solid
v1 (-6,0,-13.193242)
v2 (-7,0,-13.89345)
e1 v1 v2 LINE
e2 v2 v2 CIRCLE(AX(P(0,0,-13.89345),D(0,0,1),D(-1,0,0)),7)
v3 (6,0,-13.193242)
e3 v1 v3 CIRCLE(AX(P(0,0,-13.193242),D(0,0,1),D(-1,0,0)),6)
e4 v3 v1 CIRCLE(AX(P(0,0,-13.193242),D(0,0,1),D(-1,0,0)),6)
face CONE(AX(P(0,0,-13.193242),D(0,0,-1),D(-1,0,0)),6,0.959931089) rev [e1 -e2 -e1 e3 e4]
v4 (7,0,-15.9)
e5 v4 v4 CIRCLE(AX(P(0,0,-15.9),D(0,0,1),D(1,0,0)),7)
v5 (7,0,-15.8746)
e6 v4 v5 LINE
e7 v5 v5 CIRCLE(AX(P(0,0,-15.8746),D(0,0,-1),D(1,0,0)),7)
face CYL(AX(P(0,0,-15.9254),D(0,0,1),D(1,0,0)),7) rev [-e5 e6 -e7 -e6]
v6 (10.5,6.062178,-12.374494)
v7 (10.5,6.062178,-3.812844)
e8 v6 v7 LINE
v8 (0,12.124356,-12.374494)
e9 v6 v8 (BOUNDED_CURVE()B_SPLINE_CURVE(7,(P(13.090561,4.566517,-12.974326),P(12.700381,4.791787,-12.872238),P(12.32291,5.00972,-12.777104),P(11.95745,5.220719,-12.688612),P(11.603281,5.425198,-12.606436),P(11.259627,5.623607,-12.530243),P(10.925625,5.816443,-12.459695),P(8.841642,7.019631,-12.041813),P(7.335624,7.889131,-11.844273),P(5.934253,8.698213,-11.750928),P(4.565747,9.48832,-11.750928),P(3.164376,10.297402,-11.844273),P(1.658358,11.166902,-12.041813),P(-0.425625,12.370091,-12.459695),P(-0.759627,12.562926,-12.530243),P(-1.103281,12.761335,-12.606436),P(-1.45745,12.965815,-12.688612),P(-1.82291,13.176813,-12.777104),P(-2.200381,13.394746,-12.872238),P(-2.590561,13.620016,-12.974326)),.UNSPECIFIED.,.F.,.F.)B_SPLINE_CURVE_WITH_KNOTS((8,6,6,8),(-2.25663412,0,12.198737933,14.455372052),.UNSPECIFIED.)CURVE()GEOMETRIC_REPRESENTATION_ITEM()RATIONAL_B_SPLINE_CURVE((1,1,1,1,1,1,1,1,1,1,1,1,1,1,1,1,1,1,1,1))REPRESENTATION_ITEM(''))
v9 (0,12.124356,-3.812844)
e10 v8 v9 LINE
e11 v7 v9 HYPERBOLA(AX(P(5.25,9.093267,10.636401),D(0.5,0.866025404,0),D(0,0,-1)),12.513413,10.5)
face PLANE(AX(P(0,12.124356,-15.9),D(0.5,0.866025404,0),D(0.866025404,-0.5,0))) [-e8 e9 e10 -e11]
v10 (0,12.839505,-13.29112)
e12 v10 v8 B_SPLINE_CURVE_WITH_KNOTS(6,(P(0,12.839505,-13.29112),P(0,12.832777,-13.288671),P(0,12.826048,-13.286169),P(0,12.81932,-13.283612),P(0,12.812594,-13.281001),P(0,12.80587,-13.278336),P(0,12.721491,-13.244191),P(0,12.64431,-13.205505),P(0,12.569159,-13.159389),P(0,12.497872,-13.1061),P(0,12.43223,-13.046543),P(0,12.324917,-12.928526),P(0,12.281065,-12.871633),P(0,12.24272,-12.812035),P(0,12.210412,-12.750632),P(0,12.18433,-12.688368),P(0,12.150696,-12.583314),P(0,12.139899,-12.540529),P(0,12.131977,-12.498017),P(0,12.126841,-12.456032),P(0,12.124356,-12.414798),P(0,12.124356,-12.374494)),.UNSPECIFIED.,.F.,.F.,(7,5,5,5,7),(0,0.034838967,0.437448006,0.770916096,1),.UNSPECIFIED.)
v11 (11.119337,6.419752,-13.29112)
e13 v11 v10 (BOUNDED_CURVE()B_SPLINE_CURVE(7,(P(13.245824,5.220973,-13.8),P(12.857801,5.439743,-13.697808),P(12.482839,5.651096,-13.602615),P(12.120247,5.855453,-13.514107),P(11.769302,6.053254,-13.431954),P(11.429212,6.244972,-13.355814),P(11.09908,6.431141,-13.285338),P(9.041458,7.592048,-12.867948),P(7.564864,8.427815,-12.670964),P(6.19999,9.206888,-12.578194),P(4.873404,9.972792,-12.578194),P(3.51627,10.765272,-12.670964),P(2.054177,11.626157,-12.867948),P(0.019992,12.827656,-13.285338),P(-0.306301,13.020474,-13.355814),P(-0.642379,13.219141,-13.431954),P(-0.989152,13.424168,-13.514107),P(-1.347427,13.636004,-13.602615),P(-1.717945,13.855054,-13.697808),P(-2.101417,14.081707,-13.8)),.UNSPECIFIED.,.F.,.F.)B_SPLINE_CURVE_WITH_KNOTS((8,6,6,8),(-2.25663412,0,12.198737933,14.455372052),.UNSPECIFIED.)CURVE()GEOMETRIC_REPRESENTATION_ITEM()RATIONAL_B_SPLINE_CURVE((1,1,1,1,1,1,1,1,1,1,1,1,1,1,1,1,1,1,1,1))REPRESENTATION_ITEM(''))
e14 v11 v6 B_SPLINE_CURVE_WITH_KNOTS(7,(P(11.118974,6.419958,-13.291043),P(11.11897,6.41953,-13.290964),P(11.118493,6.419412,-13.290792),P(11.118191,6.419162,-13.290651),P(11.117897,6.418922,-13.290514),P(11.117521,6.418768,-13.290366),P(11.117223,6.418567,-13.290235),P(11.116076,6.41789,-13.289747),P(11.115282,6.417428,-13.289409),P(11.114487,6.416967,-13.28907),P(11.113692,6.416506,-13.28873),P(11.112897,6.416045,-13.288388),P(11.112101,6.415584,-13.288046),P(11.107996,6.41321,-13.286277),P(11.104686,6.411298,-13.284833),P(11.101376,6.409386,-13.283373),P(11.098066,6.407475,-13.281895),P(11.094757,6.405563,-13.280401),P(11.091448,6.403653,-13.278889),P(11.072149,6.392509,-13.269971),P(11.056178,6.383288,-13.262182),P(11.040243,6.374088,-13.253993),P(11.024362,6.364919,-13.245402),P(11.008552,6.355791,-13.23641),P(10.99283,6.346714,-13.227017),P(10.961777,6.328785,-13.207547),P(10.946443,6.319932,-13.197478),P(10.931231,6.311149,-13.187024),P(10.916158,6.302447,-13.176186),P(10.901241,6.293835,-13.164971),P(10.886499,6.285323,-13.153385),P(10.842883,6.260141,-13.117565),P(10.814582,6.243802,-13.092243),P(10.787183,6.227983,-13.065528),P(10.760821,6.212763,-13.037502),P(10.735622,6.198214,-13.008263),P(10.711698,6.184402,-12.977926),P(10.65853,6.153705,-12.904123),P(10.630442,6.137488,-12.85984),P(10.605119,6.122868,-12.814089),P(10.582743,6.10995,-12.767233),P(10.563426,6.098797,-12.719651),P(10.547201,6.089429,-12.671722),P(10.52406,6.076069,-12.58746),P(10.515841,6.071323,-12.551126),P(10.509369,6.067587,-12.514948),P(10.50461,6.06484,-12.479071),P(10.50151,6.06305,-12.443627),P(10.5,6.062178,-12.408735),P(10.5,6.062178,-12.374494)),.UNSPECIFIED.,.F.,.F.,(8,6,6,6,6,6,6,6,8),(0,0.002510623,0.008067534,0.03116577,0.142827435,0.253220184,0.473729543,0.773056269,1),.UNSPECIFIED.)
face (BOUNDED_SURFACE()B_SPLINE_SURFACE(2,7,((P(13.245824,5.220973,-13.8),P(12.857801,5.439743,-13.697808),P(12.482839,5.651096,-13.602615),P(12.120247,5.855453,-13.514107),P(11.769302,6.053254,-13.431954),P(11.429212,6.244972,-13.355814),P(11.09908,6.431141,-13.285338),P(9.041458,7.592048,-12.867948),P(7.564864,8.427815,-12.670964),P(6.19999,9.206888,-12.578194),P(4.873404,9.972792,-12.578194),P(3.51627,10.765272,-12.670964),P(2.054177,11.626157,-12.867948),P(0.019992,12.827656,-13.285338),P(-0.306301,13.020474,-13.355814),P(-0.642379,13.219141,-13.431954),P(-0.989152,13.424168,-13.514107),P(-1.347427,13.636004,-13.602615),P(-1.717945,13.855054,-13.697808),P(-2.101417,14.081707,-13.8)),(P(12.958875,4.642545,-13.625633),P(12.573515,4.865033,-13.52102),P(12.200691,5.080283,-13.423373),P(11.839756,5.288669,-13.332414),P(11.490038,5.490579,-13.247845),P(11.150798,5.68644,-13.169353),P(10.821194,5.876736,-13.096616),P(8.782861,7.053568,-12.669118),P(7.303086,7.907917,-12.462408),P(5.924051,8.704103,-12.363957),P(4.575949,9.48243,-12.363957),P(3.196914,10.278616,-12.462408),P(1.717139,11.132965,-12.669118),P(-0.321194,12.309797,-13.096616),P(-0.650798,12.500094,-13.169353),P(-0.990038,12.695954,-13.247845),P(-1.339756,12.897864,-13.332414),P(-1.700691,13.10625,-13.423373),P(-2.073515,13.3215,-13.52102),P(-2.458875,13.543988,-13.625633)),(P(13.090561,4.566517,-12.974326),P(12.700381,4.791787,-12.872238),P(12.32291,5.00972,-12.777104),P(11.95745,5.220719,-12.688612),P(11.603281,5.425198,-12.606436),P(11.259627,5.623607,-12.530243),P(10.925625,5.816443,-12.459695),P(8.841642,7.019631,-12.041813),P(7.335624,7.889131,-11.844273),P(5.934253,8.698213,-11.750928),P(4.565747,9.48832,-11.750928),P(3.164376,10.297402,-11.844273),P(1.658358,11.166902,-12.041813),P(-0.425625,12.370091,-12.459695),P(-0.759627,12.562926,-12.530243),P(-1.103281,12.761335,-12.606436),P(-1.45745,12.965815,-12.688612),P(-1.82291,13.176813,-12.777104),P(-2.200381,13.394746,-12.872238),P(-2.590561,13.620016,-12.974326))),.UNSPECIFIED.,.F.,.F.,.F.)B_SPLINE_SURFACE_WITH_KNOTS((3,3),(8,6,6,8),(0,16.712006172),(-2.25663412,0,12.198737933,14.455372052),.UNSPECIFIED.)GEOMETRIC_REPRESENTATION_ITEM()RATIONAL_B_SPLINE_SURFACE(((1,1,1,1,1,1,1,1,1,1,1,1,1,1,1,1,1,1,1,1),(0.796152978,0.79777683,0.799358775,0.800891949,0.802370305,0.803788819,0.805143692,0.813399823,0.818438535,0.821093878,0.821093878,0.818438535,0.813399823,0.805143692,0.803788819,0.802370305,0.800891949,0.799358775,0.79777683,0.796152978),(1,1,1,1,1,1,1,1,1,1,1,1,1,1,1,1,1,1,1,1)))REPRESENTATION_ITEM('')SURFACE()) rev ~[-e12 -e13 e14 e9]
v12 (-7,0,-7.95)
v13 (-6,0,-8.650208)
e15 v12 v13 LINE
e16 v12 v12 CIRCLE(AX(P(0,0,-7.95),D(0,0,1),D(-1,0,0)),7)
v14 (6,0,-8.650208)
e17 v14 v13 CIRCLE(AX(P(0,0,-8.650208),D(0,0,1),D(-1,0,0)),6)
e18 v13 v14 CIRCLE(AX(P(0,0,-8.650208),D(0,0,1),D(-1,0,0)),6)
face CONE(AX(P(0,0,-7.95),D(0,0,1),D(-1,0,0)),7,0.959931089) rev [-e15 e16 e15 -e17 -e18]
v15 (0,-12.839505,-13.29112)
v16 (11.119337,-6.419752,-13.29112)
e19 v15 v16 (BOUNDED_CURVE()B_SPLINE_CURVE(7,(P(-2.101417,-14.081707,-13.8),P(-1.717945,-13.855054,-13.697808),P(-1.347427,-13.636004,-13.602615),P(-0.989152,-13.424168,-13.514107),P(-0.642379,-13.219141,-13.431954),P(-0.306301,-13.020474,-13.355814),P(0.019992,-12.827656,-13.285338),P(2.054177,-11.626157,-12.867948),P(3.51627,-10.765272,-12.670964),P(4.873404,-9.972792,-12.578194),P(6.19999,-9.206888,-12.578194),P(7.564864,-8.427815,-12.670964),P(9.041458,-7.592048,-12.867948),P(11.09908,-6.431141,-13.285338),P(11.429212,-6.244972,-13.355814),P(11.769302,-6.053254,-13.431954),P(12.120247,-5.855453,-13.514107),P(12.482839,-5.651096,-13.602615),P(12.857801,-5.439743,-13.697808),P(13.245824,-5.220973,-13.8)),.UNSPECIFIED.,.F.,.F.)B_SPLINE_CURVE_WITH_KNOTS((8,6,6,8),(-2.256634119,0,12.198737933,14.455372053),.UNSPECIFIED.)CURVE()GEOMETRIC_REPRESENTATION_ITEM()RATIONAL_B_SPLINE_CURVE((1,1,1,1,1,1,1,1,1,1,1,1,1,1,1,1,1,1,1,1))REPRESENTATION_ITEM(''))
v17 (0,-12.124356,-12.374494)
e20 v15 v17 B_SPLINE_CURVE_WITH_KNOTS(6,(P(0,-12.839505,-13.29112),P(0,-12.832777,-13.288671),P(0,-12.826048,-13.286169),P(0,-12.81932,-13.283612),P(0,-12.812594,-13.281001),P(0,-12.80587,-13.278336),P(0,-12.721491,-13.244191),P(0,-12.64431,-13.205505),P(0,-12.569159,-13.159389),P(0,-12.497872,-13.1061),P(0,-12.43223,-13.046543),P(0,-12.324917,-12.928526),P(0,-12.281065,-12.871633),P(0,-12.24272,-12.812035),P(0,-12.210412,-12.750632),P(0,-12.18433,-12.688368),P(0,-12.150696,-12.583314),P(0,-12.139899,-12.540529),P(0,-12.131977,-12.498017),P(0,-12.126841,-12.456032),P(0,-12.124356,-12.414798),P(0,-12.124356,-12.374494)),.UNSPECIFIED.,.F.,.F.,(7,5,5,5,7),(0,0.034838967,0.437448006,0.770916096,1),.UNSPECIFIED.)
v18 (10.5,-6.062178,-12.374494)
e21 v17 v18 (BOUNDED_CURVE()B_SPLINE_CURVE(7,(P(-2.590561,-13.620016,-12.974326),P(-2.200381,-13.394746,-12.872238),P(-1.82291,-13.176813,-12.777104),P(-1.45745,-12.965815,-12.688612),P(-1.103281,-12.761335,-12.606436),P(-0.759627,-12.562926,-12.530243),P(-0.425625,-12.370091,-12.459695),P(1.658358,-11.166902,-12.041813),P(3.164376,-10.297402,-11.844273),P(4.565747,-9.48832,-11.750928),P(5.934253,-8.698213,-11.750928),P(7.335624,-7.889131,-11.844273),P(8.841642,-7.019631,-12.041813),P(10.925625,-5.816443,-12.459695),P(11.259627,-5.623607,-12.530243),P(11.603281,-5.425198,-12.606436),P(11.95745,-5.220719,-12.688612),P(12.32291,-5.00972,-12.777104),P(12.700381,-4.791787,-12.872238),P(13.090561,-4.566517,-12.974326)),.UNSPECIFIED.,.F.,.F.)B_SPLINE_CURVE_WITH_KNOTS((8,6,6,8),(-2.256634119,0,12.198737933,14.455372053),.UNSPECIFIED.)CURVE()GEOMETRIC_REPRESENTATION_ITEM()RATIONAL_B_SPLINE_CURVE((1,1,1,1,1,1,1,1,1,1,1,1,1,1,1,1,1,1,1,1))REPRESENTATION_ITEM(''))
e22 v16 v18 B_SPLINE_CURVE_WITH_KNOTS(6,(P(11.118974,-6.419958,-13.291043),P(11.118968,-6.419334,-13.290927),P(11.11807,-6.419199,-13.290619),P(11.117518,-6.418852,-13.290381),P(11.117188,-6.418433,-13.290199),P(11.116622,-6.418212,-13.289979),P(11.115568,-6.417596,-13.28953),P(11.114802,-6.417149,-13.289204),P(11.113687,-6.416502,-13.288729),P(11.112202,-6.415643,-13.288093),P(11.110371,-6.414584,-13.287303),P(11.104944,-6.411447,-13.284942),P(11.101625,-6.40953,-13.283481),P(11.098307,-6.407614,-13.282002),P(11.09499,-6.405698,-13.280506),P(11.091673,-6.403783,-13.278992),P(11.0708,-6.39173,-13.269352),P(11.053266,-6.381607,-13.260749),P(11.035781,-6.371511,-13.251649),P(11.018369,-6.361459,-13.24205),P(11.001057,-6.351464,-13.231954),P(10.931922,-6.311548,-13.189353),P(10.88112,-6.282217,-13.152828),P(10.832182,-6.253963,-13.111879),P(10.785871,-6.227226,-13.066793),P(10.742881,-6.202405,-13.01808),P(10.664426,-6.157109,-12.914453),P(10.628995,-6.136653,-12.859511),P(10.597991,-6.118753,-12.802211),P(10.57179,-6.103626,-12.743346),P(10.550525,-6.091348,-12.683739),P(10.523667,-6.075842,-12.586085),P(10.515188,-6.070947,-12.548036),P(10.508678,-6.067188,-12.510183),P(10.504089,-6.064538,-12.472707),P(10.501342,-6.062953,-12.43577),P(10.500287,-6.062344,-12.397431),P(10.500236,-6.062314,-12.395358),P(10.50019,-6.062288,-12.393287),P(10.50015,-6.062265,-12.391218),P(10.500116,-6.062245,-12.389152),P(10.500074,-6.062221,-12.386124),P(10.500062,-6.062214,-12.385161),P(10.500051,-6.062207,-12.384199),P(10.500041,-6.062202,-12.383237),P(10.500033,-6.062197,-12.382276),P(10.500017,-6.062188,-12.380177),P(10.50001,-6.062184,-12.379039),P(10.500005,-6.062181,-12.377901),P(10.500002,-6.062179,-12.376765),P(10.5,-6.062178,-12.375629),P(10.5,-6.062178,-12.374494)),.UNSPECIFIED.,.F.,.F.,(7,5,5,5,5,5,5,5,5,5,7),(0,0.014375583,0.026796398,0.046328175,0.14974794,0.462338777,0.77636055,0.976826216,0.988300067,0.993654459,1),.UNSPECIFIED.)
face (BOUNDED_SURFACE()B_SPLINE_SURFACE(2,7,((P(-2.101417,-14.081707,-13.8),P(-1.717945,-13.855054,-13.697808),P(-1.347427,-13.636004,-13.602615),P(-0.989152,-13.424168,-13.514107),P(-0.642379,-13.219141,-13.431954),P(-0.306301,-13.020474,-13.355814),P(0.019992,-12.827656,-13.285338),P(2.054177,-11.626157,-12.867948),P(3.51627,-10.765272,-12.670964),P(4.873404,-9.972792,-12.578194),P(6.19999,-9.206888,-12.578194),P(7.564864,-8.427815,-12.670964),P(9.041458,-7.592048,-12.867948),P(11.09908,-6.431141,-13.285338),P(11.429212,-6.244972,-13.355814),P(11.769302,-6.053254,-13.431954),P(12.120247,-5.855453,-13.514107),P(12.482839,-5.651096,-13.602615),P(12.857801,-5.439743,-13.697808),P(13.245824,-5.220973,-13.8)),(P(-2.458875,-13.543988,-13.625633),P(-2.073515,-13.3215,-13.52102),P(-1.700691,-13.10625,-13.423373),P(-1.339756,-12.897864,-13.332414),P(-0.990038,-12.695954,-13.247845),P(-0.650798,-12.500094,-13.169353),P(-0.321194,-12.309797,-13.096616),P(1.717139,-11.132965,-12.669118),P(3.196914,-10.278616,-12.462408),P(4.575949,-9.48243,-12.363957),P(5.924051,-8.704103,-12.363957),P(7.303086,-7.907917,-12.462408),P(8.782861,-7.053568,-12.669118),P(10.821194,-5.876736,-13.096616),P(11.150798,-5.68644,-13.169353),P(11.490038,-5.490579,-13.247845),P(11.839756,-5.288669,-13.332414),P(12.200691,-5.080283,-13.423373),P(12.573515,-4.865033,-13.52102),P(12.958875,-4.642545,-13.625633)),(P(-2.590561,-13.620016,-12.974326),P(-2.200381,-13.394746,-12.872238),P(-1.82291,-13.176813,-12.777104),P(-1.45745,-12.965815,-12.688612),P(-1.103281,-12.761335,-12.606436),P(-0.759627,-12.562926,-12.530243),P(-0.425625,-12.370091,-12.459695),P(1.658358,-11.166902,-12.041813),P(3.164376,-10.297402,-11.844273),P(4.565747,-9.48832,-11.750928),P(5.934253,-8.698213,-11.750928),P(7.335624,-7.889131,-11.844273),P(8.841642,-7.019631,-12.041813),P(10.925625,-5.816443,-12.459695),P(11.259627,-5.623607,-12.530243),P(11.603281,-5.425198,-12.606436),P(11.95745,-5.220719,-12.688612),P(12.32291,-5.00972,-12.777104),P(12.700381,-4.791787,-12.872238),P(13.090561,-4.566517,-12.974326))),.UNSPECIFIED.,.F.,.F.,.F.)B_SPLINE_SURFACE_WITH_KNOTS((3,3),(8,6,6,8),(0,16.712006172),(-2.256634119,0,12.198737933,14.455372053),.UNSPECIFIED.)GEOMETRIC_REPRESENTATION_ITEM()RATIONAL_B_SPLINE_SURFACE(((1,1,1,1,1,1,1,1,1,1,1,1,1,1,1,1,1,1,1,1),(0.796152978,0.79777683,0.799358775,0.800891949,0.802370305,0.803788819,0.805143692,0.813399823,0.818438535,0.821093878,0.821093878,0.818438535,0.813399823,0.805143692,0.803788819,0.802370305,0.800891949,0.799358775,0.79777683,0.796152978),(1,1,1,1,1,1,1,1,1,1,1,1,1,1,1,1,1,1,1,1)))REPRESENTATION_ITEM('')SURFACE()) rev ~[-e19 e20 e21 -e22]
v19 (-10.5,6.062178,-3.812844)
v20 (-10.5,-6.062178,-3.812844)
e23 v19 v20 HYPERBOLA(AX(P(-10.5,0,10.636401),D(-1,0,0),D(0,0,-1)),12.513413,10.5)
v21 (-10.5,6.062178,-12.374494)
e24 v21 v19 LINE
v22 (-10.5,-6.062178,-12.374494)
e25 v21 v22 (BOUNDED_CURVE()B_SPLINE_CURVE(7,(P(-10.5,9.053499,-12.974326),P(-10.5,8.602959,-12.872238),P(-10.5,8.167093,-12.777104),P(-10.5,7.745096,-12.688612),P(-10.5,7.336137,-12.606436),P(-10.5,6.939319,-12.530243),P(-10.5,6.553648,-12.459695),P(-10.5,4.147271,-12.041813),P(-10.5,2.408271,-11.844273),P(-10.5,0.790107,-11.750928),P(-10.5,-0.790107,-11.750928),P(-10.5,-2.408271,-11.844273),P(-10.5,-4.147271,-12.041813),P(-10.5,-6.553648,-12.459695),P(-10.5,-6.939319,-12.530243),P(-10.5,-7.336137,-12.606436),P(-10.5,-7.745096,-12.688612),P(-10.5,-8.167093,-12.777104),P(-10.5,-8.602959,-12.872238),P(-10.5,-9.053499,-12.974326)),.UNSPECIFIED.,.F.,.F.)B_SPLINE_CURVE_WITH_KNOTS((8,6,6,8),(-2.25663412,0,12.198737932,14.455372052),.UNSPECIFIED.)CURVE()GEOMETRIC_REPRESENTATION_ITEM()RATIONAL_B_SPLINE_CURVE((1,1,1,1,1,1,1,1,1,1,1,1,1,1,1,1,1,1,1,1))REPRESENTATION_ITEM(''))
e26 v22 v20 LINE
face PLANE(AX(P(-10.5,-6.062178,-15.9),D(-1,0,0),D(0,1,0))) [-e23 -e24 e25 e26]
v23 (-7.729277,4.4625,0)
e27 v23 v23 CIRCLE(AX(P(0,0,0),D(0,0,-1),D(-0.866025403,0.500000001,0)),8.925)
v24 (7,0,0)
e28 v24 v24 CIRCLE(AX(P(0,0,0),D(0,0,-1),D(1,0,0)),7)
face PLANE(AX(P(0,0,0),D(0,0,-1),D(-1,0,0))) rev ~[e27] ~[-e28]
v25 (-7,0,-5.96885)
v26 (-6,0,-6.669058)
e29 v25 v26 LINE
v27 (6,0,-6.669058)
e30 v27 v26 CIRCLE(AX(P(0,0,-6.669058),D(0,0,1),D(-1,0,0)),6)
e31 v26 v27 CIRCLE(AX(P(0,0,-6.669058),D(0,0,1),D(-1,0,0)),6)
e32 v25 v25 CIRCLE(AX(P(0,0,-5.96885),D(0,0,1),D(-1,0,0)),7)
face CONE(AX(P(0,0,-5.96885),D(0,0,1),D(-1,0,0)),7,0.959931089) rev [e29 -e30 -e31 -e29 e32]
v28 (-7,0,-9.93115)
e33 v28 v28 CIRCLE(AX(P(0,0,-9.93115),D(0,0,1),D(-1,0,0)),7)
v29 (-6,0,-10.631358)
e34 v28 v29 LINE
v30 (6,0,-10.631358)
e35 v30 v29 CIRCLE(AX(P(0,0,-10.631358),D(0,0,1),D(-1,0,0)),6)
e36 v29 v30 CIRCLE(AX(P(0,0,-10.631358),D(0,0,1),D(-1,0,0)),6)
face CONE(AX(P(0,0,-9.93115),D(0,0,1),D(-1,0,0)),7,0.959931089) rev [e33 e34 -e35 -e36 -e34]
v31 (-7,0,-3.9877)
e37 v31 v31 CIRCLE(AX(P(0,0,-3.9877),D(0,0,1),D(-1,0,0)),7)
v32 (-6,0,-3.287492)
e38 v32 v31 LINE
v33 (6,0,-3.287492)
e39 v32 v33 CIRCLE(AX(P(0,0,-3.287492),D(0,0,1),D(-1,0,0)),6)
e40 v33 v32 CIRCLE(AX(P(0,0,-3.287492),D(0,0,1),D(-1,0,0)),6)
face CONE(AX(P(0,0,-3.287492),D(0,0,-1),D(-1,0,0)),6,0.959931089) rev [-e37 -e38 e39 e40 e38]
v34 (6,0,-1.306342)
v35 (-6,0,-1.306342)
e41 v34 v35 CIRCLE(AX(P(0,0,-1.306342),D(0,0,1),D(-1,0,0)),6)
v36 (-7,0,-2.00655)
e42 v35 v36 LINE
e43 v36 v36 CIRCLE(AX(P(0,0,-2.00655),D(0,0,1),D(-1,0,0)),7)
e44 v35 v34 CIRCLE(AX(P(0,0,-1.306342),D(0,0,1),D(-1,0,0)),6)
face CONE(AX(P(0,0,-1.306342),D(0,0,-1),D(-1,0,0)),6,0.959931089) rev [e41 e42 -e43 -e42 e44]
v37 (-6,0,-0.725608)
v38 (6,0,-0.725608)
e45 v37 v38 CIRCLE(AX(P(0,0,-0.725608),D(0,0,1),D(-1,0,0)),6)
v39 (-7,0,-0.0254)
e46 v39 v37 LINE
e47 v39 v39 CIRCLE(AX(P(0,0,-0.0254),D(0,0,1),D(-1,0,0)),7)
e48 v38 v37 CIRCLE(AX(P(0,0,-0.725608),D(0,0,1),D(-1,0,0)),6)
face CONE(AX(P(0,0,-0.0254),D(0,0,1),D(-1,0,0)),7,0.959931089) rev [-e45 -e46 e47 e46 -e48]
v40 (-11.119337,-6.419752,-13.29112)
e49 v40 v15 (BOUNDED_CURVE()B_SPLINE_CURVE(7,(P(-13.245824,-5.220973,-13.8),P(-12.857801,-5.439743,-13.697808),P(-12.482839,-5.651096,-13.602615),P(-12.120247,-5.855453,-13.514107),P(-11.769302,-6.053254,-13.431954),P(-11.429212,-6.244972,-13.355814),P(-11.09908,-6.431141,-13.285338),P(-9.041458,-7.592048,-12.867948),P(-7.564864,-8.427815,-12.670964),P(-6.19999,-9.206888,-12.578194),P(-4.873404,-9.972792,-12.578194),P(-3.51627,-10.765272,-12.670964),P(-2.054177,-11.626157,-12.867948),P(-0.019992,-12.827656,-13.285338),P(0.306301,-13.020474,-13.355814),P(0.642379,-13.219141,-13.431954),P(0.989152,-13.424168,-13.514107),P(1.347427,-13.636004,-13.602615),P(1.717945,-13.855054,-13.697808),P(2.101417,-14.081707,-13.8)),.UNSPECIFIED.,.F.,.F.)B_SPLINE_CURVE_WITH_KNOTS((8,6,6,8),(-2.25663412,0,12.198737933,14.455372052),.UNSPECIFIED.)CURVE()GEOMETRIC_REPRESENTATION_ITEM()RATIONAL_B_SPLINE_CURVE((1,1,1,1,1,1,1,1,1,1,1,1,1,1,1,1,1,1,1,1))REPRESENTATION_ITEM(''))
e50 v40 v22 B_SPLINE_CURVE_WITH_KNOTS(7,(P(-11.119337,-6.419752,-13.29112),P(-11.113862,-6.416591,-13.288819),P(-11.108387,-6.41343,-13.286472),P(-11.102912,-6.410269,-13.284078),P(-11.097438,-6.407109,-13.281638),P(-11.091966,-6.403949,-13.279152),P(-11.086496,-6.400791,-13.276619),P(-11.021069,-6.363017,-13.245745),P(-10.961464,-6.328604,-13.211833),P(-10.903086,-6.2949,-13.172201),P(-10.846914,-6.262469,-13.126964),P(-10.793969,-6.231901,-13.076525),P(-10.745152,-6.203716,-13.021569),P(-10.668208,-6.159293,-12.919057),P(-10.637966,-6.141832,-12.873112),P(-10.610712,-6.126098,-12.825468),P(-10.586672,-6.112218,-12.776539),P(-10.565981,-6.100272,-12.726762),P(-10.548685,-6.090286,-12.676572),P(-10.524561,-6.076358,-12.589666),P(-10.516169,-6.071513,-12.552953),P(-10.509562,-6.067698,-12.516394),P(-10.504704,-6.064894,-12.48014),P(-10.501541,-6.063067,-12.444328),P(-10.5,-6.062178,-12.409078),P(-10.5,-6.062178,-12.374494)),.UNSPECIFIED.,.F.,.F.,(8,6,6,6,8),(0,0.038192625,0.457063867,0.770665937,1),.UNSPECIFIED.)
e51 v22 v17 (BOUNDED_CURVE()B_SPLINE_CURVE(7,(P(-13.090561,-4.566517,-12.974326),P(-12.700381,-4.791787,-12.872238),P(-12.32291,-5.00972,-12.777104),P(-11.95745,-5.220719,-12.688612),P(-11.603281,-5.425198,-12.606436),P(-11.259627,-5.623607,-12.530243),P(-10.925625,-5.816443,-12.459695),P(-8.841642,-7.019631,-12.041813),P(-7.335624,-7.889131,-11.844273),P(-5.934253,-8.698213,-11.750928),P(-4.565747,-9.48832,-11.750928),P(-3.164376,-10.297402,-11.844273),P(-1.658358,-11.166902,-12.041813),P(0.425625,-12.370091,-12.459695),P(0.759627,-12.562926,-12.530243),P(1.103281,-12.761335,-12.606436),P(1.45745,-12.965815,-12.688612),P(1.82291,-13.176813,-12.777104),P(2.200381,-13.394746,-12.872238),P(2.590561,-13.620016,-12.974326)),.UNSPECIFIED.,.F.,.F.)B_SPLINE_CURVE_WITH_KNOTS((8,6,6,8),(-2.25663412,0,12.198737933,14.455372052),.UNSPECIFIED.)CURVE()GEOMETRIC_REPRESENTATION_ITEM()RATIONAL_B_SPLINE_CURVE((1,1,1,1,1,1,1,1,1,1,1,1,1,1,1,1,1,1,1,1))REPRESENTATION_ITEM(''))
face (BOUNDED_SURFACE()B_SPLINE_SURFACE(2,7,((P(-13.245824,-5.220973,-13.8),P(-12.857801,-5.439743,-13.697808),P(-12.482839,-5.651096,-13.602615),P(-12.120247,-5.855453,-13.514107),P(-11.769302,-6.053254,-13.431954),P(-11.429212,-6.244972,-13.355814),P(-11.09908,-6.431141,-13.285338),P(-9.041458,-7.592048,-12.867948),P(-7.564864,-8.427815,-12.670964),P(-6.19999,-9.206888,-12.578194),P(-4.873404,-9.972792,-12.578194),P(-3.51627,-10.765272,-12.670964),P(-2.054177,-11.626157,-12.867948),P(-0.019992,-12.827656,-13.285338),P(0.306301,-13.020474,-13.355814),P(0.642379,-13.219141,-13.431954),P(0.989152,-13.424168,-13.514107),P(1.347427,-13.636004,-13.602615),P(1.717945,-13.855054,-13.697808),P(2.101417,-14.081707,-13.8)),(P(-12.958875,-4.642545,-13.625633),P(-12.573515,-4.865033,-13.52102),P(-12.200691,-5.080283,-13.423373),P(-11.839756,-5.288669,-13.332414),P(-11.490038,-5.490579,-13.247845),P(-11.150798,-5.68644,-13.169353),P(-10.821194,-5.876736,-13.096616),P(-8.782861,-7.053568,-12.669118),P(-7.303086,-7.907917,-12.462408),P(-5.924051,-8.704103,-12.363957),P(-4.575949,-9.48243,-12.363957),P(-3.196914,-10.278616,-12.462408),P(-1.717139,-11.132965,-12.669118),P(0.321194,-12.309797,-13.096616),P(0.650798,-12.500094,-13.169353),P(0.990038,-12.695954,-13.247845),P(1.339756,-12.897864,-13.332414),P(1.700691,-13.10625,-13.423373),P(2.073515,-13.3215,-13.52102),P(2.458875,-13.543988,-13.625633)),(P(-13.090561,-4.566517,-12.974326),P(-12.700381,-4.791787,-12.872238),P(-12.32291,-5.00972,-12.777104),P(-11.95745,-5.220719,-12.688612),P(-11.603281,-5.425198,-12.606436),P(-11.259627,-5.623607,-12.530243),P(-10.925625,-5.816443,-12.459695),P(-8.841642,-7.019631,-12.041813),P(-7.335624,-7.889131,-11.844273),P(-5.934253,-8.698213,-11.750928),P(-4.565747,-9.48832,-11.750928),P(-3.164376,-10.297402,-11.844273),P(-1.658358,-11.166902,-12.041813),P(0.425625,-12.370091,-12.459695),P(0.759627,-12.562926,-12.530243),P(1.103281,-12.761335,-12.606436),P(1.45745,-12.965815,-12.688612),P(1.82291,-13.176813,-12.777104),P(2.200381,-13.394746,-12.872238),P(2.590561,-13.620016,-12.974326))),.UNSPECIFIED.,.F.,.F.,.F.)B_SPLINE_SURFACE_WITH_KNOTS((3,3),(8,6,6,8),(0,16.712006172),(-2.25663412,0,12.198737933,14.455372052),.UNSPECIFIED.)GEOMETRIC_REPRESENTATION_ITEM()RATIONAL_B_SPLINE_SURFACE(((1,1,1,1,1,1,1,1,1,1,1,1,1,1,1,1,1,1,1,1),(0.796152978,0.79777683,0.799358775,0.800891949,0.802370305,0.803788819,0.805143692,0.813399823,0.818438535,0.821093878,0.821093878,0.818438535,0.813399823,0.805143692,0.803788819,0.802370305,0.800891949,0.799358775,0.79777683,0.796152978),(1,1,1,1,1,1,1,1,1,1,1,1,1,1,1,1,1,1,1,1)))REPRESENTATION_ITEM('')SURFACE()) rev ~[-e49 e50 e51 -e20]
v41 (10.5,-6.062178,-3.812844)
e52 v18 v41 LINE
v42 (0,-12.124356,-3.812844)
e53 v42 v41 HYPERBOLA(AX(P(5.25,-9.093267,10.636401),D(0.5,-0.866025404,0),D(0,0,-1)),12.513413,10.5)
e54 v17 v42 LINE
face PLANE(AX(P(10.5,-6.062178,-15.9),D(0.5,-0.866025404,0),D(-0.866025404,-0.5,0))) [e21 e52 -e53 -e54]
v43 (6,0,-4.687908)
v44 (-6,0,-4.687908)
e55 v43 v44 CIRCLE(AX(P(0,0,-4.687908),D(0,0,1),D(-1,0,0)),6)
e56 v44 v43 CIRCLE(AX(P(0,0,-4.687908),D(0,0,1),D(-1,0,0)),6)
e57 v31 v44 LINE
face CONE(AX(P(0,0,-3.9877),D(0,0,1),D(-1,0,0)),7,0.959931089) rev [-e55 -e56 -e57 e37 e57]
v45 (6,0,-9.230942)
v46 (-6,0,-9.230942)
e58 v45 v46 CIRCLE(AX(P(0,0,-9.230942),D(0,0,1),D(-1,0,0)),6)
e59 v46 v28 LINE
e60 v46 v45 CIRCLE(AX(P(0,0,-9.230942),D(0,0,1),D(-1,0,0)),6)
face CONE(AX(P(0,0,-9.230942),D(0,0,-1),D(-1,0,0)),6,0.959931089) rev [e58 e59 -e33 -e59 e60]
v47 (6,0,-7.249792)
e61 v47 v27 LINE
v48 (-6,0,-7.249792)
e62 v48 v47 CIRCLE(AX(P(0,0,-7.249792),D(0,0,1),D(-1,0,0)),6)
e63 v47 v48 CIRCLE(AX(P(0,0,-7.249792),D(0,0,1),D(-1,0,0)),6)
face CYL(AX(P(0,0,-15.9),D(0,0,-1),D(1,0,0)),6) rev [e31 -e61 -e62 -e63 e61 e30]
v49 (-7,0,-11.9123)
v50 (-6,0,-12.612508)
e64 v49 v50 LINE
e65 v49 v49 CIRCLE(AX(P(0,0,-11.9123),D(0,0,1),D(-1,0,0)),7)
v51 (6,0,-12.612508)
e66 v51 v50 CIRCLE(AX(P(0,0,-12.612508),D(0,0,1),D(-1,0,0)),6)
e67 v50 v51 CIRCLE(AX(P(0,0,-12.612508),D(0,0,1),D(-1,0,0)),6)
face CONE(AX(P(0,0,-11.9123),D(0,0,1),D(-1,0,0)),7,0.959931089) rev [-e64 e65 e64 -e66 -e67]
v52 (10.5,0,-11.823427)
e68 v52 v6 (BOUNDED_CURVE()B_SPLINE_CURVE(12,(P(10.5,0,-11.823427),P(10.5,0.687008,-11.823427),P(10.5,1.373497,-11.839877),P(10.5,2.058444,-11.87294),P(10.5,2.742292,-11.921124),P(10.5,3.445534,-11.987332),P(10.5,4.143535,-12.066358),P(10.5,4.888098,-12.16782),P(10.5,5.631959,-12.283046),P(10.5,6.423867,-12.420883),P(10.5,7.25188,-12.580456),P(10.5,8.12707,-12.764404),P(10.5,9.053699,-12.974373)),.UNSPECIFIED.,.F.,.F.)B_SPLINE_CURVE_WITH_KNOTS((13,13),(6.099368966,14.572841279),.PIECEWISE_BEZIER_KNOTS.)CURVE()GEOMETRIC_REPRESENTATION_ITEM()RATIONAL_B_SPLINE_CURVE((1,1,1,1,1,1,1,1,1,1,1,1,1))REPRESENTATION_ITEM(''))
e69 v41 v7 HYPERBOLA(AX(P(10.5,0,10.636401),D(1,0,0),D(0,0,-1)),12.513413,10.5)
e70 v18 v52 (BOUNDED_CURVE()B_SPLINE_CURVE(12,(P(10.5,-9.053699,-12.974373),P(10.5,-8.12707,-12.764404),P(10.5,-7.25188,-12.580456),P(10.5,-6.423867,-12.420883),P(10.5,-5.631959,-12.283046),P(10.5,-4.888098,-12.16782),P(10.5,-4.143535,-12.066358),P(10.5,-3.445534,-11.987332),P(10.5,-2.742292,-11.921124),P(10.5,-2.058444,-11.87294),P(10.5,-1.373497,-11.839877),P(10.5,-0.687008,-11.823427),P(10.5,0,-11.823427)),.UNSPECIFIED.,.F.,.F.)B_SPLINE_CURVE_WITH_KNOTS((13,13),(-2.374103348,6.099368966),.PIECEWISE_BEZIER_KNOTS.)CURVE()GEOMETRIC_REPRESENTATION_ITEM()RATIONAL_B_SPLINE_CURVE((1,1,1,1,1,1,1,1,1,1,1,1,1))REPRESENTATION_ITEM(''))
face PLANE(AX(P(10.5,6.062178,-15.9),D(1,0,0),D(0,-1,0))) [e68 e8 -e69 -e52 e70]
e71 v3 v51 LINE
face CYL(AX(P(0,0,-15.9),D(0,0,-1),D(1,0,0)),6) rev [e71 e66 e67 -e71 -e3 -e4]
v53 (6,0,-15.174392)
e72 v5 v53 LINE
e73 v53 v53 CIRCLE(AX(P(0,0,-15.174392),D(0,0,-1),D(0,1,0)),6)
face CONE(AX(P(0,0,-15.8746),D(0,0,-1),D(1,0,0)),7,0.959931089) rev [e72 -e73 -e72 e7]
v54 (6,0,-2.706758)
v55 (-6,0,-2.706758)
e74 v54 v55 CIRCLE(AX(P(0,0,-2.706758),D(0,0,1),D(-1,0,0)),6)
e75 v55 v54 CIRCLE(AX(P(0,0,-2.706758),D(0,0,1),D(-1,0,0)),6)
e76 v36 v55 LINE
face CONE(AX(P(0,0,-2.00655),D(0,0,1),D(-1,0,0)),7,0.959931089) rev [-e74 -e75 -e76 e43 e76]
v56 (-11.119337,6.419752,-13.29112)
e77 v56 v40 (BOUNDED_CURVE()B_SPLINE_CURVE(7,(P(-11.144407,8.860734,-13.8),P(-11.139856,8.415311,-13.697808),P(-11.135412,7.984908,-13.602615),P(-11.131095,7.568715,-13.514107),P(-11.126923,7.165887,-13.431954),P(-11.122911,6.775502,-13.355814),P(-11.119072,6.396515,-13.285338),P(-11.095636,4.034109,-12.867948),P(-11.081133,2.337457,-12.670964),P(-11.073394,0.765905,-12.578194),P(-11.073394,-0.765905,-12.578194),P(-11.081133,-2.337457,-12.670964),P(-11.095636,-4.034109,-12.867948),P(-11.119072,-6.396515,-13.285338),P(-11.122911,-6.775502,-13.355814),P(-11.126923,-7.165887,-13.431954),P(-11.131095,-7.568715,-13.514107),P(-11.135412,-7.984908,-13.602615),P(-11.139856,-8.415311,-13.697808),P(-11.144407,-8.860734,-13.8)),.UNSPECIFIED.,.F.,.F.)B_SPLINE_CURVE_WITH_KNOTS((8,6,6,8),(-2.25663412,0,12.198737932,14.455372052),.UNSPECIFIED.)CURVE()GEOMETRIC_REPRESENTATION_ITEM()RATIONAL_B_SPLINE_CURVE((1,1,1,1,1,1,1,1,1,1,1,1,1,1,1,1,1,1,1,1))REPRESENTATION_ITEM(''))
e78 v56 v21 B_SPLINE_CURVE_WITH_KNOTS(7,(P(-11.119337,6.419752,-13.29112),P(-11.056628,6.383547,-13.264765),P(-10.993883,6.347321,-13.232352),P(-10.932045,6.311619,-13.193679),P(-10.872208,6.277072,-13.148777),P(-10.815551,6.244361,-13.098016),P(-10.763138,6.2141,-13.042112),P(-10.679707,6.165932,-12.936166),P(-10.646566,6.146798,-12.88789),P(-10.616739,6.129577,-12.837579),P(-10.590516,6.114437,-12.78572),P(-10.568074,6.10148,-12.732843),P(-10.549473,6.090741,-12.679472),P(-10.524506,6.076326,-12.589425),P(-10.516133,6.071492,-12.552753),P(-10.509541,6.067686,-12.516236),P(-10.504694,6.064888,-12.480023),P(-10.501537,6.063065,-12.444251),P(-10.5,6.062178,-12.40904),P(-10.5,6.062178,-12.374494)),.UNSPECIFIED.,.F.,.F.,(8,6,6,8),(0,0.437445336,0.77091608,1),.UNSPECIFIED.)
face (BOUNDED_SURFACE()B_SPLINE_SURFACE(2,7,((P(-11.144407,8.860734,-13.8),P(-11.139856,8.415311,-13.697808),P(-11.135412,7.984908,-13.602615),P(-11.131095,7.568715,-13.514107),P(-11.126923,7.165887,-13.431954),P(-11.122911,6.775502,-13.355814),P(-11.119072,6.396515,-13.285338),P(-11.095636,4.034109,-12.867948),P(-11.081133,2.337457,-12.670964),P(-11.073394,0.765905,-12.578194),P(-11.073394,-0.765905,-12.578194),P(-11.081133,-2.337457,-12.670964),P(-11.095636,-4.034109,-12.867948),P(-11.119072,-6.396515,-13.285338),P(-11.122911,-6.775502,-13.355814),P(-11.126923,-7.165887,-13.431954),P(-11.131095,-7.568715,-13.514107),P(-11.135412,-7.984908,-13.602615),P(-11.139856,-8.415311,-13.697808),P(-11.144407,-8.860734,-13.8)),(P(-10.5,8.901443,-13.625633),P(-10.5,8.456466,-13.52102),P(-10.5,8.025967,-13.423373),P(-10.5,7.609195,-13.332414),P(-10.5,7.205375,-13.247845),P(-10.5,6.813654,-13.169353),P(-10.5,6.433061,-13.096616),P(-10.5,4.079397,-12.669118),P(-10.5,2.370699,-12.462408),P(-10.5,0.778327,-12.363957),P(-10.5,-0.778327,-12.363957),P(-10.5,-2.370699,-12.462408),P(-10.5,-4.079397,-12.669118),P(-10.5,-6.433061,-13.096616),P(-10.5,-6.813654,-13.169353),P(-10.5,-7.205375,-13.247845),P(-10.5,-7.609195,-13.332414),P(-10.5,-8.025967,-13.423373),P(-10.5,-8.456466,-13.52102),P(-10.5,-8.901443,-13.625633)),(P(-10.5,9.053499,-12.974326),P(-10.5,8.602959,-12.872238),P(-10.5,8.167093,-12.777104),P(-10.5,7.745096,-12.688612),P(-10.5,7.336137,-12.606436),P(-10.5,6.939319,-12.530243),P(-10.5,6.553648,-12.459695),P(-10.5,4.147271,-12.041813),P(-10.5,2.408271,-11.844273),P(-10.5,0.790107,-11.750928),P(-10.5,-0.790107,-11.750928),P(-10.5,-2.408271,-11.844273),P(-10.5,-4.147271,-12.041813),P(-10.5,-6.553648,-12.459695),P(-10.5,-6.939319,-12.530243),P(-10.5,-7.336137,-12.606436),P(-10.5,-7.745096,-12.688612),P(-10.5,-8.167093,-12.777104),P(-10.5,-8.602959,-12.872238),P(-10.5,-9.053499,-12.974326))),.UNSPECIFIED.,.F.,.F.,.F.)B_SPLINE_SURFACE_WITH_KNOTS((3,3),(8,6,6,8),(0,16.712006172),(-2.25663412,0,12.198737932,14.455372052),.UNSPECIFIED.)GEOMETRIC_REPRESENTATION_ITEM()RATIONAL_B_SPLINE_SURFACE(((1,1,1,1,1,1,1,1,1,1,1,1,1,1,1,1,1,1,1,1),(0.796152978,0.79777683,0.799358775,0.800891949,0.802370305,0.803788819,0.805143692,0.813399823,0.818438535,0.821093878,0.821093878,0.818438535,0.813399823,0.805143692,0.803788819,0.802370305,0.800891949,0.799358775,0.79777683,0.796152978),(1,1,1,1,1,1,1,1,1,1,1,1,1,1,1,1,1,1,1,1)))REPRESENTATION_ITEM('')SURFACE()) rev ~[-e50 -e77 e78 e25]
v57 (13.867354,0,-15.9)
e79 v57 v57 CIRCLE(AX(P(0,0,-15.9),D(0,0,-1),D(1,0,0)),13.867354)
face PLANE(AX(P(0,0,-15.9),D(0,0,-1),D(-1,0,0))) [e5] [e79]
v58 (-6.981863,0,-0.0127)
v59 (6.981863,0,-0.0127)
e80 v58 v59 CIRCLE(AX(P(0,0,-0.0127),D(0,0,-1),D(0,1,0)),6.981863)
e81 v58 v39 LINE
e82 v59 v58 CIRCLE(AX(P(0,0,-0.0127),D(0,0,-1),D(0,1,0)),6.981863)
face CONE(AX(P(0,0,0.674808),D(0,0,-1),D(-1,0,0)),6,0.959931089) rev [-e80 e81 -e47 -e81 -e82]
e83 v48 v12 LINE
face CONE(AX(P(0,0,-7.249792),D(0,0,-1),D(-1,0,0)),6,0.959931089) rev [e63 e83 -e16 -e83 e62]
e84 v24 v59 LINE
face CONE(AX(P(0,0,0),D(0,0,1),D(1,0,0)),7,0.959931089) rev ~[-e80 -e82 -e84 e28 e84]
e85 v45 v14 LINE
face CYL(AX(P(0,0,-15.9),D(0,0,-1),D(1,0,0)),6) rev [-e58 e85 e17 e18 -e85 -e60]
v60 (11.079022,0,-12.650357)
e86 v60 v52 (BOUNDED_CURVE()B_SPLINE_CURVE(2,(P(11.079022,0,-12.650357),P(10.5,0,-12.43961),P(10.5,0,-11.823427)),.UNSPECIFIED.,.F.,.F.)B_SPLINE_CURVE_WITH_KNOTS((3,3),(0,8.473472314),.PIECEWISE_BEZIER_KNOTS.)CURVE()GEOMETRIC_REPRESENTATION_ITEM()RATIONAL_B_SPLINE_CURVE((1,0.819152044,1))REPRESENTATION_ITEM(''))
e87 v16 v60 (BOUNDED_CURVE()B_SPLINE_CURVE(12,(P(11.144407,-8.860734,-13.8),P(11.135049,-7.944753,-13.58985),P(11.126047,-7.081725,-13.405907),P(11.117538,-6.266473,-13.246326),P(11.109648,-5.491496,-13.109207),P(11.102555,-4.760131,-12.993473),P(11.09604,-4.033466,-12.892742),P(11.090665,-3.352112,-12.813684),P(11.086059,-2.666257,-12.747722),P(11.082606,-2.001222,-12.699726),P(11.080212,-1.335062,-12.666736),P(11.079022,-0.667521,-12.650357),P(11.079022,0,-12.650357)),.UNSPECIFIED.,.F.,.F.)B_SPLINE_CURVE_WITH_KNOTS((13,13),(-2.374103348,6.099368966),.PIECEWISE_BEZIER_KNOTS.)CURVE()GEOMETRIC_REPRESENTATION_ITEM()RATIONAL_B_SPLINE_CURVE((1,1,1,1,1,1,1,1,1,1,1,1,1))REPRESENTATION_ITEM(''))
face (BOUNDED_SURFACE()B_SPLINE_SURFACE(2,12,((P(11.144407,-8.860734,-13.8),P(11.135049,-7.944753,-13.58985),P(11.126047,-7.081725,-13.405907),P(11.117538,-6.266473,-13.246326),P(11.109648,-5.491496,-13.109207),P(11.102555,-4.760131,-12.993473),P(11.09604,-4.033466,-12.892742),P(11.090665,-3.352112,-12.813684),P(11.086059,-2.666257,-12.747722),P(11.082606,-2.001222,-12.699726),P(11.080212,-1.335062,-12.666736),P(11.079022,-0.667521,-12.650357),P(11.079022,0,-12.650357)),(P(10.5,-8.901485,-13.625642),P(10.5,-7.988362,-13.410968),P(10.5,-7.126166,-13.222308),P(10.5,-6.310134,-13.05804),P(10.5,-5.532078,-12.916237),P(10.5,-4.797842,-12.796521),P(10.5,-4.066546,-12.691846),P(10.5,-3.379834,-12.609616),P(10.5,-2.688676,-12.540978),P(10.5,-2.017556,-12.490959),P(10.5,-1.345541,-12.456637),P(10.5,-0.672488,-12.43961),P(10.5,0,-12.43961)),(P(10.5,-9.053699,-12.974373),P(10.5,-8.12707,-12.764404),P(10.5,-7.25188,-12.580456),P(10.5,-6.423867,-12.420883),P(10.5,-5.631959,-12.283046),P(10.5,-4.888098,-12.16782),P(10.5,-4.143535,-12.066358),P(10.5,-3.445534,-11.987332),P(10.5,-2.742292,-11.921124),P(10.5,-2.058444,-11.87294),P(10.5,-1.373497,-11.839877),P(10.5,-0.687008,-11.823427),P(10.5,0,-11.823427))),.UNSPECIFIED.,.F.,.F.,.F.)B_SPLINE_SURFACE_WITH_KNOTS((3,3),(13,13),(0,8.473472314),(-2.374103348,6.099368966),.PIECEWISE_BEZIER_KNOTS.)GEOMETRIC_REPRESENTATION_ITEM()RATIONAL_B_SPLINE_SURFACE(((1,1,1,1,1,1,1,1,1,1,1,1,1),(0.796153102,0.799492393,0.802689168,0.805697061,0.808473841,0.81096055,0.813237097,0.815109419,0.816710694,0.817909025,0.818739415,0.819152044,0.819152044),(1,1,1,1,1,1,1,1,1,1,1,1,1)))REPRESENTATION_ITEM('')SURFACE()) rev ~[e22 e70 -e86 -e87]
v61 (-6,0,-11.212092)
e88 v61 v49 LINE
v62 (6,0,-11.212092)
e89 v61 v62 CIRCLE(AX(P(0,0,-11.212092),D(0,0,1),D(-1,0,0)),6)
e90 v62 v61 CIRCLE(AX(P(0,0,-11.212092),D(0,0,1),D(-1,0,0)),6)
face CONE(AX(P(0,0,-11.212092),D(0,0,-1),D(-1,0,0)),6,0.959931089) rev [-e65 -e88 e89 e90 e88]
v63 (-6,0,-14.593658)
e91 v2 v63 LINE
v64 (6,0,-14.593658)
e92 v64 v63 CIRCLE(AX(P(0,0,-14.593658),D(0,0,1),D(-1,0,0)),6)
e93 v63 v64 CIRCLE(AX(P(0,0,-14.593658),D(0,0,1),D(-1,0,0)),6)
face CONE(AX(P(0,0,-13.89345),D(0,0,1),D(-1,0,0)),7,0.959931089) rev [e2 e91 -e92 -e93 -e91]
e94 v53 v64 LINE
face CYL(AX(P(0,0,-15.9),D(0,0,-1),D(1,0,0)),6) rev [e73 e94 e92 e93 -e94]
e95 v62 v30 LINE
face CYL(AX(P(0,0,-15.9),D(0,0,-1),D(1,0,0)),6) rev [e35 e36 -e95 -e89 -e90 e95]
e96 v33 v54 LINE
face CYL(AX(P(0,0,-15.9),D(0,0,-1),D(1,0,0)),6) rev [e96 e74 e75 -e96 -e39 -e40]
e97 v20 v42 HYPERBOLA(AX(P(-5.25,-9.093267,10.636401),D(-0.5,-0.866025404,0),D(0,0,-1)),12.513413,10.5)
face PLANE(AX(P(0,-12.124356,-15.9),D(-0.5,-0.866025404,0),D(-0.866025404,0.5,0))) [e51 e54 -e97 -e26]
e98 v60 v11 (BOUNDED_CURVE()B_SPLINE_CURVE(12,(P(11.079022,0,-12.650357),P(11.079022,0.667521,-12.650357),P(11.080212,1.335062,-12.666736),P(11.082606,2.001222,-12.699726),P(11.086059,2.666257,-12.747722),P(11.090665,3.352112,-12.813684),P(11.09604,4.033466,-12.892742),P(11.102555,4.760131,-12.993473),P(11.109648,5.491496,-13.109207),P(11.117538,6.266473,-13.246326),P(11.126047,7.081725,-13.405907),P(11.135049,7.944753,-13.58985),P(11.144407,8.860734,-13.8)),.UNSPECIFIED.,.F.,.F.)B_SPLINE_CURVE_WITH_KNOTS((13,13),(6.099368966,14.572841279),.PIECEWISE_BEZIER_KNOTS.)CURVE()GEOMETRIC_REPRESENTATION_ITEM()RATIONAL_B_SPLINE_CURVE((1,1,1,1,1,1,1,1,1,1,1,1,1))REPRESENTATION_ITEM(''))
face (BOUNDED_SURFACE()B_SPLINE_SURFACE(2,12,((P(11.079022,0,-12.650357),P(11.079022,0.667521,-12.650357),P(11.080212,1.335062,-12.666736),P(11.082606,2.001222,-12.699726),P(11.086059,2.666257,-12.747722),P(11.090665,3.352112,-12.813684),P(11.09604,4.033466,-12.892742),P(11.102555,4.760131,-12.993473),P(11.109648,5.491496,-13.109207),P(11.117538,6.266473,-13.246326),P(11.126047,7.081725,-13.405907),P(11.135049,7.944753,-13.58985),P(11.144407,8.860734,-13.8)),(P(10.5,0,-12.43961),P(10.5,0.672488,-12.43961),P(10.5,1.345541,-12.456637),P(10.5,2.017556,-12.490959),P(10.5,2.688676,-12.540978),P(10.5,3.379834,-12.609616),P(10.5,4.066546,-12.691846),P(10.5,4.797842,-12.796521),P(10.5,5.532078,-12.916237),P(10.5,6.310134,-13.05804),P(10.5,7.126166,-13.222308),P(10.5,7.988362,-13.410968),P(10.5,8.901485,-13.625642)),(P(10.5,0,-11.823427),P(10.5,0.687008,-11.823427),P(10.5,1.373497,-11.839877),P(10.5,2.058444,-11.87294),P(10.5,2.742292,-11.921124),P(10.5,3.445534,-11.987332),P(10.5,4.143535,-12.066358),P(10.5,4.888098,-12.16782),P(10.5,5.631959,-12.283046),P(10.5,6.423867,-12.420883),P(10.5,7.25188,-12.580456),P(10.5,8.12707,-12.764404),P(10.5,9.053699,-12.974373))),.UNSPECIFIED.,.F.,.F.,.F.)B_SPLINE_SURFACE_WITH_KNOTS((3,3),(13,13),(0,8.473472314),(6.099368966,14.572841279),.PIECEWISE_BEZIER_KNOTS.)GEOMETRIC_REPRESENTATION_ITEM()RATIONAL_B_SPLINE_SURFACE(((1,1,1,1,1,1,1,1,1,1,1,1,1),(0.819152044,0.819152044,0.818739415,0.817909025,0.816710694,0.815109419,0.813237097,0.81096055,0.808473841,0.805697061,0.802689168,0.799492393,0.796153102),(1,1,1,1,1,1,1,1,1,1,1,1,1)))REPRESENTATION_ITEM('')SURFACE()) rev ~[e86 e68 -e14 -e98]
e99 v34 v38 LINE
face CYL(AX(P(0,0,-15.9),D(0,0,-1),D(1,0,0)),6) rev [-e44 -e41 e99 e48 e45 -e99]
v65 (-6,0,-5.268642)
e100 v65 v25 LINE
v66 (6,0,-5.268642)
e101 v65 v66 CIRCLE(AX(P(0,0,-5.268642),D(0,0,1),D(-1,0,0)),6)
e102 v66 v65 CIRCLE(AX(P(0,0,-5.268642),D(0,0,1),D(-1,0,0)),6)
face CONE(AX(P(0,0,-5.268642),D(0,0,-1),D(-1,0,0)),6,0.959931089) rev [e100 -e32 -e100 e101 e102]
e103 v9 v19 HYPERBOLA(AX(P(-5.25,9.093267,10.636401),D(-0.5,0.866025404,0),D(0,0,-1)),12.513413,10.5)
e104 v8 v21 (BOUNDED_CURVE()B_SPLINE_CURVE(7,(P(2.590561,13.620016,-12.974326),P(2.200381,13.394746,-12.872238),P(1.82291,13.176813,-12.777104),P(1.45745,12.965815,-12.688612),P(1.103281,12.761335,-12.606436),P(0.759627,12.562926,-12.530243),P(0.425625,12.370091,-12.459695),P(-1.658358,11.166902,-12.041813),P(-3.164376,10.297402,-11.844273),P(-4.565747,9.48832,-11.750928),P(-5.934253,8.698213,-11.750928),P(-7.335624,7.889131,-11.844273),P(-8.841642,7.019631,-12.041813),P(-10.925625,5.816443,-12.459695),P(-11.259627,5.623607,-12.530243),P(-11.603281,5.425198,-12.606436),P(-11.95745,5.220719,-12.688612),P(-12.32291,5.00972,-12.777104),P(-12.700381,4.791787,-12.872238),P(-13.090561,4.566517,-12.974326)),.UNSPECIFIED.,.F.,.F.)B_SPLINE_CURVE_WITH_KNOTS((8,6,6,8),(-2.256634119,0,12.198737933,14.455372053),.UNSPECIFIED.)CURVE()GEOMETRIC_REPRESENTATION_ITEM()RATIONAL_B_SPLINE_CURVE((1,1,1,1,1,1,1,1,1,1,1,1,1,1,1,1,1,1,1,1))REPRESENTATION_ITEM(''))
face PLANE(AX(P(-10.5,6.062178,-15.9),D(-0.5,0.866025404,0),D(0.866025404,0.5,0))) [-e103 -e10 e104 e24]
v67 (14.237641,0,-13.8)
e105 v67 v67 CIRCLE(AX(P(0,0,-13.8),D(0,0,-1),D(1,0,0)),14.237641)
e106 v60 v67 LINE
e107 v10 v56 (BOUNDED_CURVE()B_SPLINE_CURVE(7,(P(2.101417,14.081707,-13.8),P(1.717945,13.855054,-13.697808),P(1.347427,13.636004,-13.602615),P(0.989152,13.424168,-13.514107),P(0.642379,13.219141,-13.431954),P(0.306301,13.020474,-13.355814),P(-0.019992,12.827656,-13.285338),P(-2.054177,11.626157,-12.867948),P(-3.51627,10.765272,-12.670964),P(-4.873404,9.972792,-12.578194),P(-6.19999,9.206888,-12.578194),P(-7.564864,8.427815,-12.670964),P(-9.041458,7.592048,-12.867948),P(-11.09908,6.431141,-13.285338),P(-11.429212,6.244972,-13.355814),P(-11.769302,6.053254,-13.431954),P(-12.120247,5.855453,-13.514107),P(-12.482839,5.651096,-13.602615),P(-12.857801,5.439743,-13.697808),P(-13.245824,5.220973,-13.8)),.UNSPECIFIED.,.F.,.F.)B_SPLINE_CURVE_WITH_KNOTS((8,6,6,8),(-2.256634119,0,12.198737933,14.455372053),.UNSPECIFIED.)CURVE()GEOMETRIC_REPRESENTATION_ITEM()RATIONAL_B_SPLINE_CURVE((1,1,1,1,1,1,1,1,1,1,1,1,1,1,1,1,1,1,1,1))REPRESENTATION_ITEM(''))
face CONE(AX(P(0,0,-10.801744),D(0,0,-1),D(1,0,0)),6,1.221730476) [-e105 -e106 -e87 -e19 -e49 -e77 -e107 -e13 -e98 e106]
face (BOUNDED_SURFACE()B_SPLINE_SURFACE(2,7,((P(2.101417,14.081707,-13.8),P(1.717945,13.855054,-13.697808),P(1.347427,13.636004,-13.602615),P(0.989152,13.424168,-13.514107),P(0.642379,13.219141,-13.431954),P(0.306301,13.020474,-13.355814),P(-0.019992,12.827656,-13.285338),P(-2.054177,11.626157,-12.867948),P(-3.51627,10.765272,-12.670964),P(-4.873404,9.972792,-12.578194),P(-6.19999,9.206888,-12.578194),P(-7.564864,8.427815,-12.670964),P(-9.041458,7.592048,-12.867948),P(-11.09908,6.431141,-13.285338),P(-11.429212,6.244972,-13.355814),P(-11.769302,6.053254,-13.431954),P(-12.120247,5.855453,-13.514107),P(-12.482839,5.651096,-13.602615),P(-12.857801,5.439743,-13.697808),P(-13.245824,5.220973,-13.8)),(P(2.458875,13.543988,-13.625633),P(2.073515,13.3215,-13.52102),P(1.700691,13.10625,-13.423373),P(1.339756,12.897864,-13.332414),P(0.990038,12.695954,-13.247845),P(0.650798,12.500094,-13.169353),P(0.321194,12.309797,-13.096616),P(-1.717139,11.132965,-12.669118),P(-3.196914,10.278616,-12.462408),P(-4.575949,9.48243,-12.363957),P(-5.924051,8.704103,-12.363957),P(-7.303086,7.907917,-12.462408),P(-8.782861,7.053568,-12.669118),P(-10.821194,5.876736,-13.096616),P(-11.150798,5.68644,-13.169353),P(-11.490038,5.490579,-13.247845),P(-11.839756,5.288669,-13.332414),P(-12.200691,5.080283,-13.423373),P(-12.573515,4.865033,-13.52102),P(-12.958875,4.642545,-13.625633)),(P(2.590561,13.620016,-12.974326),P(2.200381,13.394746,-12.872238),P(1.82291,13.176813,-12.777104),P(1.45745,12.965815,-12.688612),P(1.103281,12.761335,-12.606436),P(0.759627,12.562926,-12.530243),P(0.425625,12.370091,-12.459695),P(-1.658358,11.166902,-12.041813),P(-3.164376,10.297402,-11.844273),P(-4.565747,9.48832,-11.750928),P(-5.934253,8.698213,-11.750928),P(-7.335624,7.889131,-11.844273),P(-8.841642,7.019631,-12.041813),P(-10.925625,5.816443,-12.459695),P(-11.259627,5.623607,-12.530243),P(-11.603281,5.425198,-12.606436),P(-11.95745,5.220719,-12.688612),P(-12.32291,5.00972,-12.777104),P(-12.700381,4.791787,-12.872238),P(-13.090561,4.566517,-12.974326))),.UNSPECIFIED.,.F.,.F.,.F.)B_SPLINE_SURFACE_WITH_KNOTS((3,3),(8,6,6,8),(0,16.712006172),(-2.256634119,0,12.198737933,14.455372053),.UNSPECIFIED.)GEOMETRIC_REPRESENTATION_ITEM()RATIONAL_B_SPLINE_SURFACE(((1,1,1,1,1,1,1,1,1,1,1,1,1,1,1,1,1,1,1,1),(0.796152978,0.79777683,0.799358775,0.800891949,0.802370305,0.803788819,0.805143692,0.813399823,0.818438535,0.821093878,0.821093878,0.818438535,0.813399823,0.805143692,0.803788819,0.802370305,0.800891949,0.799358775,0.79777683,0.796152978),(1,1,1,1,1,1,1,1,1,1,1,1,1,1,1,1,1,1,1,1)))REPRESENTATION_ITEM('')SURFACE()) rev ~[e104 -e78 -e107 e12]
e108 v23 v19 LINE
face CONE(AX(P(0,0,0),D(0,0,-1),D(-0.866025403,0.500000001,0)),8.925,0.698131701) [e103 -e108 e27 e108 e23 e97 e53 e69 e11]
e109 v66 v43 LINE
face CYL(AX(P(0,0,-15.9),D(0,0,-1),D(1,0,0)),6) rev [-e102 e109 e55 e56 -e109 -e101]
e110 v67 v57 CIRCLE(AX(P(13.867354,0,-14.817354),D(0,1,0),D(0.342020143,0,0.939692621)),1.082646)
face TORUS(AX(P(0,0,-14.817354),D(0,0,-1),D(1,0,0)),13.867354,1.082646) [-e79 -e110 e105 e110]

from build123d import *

# Parameters (mm, degrees)
BASENUT_START   = -15.9
BASENUTSKE_R    = 6
BASENUT_DEPTH   = 15.9
FLANGEFILLET_R  = 0.88
THDSCHPAT_COUNT = 8
THDSCHPAT_PITCH = 1.98115


with BuildPart() as part:
    # BaseNutSke → BaseNut (new body)
    with BuildSketch(Plane.XY.offset(BASENUT_START)):
        Polygon((10.5, 6.062177826), (10.5, -6.062177826), (0, -12.124355653), (-10.5, -6.062177826), (-10.5, 6.062177826), (0, 12.124355653), align=None)
        Circle(BASENUTSKE_R, mode=Mode.SUBTRACT)
    extrude(amount=BASENUT_DEPTH)

    # Sketch6 → Flange (revolve)
    with BuildSketch(Plane(origin=(0, 0, 0), x_dir=(0, 0, -1), z_dir=(1, 0, 0)), mode=Mode.PRIVATE) as flange_sk:
        with BuildLine():
            Line((10.801743914, 6), (13.8, 14.237640895))
            ThreePointArc((13.8, 14.237640895), (15.0053537, 14.933552178), (15.9, 13.867354236))
            Line((15.9, 13.867354236), (15.9, 6))
            Line((15.9, 6), (10.801743914, 6))
        make_face()
    revolve(flange_sk.sketch.rotate(Axis((0, 0, 0), (0, 0, -1)), 90), axis=Axis((0, 0, 0), (0, 0, -1)))

    # Sketch3 → Double-Chamfer (revolve, cut)
    with BuildSketch(Plane(origin=(0, 0, 0), x_dir=(0, 0, -1), z_dir=(1, 0, 0)), mode=Mode.PRIVATE) as double_chamfer_sk:
        Polygon((3.812843593, 24.824355653), (-12.7, 24.824355653), (-12.7, 8.925), (0, 8.925), (3.812843593, 12.124355653), align=None)
    revolve(double_chamfer_sk.sketch.rotate(Axis((0, 0, 0), (0, 0, -1)), 300.000000044), axis=Axis((0, 0, 0), (0, 0, -1)), mode=Mode.SUBTRACT)

    # FlangeFillet
    flangefillet_edges = [part.edges().sort_by_distance(p)[0] for p in [
        (10.5, 3.044311508, -12.596998401),
        (5.25, 9.09326674, -12.439609968),
        (-5.25, 9.09326674, -12.439609968),
        (-10.5, 0, -12.439609968),
        (-5.25, -9.09326674, -12.439609968),
        (5.25, -9.09326674, -12.439609968),
        (10.5, -3.044311508, -12.596998401),
    ]]
    fillet(flangefillet_edges, radius=FLANGEFILLET_R)

    # Sketch5 → EndChamfer (revolve, cut)
    with BuildSketch(Plane(origin=(0, 0, 0), x_dir=(0, 0, -1), z_dir=(1, 0, 0)), mode=Mode.PRIVATE) as endchamfer_sk:
        Polygon((15.8746, 7), (15.104371708, 5.9), (15.9254, 5.9), (15.9254, 7), align=None)
        Polygon((-0.0508, 7), (0, 7), (0.770228292, 5.9), (-0.0508, 5.9), align=None)
    revolve(endchamfer_sk.sketch.rotate(Axis((0, 0, -25.037505729), (0, 0, -1)), 90), axis=Axis((0, 0, -25.037505729), (0, 0, -1)), mode=Mode.SUBTRACT)

    # ThdSchSke → ThreadSchematic (revolve, cut)
    with BuildSketch(Plane(origin=(0, 0, 0), x_dir=(1, 0, 0), z_dir=(0, 1, 0))):
        Polygon((-7, 0.0254), (-6, 0.725607538), (-3, 0.725607538), (-3, -0.674807538), (-6, -0.674807538), align=None)
    threadschematic = revolve(axis=Axis((0, 0, -2), (0, 0, 1)), mode=Mode.SUBTRACT)

    # ThdSchPat: ThreadSchematic ×8
    with Locations(*[(0, 0, -i * THDSCHPAT_PITCH) for i in range(1, THDSCHPAT_COUNT)]):
        add(threadschematic, mode=Mode.SUBTRACT)


solid = part.part
